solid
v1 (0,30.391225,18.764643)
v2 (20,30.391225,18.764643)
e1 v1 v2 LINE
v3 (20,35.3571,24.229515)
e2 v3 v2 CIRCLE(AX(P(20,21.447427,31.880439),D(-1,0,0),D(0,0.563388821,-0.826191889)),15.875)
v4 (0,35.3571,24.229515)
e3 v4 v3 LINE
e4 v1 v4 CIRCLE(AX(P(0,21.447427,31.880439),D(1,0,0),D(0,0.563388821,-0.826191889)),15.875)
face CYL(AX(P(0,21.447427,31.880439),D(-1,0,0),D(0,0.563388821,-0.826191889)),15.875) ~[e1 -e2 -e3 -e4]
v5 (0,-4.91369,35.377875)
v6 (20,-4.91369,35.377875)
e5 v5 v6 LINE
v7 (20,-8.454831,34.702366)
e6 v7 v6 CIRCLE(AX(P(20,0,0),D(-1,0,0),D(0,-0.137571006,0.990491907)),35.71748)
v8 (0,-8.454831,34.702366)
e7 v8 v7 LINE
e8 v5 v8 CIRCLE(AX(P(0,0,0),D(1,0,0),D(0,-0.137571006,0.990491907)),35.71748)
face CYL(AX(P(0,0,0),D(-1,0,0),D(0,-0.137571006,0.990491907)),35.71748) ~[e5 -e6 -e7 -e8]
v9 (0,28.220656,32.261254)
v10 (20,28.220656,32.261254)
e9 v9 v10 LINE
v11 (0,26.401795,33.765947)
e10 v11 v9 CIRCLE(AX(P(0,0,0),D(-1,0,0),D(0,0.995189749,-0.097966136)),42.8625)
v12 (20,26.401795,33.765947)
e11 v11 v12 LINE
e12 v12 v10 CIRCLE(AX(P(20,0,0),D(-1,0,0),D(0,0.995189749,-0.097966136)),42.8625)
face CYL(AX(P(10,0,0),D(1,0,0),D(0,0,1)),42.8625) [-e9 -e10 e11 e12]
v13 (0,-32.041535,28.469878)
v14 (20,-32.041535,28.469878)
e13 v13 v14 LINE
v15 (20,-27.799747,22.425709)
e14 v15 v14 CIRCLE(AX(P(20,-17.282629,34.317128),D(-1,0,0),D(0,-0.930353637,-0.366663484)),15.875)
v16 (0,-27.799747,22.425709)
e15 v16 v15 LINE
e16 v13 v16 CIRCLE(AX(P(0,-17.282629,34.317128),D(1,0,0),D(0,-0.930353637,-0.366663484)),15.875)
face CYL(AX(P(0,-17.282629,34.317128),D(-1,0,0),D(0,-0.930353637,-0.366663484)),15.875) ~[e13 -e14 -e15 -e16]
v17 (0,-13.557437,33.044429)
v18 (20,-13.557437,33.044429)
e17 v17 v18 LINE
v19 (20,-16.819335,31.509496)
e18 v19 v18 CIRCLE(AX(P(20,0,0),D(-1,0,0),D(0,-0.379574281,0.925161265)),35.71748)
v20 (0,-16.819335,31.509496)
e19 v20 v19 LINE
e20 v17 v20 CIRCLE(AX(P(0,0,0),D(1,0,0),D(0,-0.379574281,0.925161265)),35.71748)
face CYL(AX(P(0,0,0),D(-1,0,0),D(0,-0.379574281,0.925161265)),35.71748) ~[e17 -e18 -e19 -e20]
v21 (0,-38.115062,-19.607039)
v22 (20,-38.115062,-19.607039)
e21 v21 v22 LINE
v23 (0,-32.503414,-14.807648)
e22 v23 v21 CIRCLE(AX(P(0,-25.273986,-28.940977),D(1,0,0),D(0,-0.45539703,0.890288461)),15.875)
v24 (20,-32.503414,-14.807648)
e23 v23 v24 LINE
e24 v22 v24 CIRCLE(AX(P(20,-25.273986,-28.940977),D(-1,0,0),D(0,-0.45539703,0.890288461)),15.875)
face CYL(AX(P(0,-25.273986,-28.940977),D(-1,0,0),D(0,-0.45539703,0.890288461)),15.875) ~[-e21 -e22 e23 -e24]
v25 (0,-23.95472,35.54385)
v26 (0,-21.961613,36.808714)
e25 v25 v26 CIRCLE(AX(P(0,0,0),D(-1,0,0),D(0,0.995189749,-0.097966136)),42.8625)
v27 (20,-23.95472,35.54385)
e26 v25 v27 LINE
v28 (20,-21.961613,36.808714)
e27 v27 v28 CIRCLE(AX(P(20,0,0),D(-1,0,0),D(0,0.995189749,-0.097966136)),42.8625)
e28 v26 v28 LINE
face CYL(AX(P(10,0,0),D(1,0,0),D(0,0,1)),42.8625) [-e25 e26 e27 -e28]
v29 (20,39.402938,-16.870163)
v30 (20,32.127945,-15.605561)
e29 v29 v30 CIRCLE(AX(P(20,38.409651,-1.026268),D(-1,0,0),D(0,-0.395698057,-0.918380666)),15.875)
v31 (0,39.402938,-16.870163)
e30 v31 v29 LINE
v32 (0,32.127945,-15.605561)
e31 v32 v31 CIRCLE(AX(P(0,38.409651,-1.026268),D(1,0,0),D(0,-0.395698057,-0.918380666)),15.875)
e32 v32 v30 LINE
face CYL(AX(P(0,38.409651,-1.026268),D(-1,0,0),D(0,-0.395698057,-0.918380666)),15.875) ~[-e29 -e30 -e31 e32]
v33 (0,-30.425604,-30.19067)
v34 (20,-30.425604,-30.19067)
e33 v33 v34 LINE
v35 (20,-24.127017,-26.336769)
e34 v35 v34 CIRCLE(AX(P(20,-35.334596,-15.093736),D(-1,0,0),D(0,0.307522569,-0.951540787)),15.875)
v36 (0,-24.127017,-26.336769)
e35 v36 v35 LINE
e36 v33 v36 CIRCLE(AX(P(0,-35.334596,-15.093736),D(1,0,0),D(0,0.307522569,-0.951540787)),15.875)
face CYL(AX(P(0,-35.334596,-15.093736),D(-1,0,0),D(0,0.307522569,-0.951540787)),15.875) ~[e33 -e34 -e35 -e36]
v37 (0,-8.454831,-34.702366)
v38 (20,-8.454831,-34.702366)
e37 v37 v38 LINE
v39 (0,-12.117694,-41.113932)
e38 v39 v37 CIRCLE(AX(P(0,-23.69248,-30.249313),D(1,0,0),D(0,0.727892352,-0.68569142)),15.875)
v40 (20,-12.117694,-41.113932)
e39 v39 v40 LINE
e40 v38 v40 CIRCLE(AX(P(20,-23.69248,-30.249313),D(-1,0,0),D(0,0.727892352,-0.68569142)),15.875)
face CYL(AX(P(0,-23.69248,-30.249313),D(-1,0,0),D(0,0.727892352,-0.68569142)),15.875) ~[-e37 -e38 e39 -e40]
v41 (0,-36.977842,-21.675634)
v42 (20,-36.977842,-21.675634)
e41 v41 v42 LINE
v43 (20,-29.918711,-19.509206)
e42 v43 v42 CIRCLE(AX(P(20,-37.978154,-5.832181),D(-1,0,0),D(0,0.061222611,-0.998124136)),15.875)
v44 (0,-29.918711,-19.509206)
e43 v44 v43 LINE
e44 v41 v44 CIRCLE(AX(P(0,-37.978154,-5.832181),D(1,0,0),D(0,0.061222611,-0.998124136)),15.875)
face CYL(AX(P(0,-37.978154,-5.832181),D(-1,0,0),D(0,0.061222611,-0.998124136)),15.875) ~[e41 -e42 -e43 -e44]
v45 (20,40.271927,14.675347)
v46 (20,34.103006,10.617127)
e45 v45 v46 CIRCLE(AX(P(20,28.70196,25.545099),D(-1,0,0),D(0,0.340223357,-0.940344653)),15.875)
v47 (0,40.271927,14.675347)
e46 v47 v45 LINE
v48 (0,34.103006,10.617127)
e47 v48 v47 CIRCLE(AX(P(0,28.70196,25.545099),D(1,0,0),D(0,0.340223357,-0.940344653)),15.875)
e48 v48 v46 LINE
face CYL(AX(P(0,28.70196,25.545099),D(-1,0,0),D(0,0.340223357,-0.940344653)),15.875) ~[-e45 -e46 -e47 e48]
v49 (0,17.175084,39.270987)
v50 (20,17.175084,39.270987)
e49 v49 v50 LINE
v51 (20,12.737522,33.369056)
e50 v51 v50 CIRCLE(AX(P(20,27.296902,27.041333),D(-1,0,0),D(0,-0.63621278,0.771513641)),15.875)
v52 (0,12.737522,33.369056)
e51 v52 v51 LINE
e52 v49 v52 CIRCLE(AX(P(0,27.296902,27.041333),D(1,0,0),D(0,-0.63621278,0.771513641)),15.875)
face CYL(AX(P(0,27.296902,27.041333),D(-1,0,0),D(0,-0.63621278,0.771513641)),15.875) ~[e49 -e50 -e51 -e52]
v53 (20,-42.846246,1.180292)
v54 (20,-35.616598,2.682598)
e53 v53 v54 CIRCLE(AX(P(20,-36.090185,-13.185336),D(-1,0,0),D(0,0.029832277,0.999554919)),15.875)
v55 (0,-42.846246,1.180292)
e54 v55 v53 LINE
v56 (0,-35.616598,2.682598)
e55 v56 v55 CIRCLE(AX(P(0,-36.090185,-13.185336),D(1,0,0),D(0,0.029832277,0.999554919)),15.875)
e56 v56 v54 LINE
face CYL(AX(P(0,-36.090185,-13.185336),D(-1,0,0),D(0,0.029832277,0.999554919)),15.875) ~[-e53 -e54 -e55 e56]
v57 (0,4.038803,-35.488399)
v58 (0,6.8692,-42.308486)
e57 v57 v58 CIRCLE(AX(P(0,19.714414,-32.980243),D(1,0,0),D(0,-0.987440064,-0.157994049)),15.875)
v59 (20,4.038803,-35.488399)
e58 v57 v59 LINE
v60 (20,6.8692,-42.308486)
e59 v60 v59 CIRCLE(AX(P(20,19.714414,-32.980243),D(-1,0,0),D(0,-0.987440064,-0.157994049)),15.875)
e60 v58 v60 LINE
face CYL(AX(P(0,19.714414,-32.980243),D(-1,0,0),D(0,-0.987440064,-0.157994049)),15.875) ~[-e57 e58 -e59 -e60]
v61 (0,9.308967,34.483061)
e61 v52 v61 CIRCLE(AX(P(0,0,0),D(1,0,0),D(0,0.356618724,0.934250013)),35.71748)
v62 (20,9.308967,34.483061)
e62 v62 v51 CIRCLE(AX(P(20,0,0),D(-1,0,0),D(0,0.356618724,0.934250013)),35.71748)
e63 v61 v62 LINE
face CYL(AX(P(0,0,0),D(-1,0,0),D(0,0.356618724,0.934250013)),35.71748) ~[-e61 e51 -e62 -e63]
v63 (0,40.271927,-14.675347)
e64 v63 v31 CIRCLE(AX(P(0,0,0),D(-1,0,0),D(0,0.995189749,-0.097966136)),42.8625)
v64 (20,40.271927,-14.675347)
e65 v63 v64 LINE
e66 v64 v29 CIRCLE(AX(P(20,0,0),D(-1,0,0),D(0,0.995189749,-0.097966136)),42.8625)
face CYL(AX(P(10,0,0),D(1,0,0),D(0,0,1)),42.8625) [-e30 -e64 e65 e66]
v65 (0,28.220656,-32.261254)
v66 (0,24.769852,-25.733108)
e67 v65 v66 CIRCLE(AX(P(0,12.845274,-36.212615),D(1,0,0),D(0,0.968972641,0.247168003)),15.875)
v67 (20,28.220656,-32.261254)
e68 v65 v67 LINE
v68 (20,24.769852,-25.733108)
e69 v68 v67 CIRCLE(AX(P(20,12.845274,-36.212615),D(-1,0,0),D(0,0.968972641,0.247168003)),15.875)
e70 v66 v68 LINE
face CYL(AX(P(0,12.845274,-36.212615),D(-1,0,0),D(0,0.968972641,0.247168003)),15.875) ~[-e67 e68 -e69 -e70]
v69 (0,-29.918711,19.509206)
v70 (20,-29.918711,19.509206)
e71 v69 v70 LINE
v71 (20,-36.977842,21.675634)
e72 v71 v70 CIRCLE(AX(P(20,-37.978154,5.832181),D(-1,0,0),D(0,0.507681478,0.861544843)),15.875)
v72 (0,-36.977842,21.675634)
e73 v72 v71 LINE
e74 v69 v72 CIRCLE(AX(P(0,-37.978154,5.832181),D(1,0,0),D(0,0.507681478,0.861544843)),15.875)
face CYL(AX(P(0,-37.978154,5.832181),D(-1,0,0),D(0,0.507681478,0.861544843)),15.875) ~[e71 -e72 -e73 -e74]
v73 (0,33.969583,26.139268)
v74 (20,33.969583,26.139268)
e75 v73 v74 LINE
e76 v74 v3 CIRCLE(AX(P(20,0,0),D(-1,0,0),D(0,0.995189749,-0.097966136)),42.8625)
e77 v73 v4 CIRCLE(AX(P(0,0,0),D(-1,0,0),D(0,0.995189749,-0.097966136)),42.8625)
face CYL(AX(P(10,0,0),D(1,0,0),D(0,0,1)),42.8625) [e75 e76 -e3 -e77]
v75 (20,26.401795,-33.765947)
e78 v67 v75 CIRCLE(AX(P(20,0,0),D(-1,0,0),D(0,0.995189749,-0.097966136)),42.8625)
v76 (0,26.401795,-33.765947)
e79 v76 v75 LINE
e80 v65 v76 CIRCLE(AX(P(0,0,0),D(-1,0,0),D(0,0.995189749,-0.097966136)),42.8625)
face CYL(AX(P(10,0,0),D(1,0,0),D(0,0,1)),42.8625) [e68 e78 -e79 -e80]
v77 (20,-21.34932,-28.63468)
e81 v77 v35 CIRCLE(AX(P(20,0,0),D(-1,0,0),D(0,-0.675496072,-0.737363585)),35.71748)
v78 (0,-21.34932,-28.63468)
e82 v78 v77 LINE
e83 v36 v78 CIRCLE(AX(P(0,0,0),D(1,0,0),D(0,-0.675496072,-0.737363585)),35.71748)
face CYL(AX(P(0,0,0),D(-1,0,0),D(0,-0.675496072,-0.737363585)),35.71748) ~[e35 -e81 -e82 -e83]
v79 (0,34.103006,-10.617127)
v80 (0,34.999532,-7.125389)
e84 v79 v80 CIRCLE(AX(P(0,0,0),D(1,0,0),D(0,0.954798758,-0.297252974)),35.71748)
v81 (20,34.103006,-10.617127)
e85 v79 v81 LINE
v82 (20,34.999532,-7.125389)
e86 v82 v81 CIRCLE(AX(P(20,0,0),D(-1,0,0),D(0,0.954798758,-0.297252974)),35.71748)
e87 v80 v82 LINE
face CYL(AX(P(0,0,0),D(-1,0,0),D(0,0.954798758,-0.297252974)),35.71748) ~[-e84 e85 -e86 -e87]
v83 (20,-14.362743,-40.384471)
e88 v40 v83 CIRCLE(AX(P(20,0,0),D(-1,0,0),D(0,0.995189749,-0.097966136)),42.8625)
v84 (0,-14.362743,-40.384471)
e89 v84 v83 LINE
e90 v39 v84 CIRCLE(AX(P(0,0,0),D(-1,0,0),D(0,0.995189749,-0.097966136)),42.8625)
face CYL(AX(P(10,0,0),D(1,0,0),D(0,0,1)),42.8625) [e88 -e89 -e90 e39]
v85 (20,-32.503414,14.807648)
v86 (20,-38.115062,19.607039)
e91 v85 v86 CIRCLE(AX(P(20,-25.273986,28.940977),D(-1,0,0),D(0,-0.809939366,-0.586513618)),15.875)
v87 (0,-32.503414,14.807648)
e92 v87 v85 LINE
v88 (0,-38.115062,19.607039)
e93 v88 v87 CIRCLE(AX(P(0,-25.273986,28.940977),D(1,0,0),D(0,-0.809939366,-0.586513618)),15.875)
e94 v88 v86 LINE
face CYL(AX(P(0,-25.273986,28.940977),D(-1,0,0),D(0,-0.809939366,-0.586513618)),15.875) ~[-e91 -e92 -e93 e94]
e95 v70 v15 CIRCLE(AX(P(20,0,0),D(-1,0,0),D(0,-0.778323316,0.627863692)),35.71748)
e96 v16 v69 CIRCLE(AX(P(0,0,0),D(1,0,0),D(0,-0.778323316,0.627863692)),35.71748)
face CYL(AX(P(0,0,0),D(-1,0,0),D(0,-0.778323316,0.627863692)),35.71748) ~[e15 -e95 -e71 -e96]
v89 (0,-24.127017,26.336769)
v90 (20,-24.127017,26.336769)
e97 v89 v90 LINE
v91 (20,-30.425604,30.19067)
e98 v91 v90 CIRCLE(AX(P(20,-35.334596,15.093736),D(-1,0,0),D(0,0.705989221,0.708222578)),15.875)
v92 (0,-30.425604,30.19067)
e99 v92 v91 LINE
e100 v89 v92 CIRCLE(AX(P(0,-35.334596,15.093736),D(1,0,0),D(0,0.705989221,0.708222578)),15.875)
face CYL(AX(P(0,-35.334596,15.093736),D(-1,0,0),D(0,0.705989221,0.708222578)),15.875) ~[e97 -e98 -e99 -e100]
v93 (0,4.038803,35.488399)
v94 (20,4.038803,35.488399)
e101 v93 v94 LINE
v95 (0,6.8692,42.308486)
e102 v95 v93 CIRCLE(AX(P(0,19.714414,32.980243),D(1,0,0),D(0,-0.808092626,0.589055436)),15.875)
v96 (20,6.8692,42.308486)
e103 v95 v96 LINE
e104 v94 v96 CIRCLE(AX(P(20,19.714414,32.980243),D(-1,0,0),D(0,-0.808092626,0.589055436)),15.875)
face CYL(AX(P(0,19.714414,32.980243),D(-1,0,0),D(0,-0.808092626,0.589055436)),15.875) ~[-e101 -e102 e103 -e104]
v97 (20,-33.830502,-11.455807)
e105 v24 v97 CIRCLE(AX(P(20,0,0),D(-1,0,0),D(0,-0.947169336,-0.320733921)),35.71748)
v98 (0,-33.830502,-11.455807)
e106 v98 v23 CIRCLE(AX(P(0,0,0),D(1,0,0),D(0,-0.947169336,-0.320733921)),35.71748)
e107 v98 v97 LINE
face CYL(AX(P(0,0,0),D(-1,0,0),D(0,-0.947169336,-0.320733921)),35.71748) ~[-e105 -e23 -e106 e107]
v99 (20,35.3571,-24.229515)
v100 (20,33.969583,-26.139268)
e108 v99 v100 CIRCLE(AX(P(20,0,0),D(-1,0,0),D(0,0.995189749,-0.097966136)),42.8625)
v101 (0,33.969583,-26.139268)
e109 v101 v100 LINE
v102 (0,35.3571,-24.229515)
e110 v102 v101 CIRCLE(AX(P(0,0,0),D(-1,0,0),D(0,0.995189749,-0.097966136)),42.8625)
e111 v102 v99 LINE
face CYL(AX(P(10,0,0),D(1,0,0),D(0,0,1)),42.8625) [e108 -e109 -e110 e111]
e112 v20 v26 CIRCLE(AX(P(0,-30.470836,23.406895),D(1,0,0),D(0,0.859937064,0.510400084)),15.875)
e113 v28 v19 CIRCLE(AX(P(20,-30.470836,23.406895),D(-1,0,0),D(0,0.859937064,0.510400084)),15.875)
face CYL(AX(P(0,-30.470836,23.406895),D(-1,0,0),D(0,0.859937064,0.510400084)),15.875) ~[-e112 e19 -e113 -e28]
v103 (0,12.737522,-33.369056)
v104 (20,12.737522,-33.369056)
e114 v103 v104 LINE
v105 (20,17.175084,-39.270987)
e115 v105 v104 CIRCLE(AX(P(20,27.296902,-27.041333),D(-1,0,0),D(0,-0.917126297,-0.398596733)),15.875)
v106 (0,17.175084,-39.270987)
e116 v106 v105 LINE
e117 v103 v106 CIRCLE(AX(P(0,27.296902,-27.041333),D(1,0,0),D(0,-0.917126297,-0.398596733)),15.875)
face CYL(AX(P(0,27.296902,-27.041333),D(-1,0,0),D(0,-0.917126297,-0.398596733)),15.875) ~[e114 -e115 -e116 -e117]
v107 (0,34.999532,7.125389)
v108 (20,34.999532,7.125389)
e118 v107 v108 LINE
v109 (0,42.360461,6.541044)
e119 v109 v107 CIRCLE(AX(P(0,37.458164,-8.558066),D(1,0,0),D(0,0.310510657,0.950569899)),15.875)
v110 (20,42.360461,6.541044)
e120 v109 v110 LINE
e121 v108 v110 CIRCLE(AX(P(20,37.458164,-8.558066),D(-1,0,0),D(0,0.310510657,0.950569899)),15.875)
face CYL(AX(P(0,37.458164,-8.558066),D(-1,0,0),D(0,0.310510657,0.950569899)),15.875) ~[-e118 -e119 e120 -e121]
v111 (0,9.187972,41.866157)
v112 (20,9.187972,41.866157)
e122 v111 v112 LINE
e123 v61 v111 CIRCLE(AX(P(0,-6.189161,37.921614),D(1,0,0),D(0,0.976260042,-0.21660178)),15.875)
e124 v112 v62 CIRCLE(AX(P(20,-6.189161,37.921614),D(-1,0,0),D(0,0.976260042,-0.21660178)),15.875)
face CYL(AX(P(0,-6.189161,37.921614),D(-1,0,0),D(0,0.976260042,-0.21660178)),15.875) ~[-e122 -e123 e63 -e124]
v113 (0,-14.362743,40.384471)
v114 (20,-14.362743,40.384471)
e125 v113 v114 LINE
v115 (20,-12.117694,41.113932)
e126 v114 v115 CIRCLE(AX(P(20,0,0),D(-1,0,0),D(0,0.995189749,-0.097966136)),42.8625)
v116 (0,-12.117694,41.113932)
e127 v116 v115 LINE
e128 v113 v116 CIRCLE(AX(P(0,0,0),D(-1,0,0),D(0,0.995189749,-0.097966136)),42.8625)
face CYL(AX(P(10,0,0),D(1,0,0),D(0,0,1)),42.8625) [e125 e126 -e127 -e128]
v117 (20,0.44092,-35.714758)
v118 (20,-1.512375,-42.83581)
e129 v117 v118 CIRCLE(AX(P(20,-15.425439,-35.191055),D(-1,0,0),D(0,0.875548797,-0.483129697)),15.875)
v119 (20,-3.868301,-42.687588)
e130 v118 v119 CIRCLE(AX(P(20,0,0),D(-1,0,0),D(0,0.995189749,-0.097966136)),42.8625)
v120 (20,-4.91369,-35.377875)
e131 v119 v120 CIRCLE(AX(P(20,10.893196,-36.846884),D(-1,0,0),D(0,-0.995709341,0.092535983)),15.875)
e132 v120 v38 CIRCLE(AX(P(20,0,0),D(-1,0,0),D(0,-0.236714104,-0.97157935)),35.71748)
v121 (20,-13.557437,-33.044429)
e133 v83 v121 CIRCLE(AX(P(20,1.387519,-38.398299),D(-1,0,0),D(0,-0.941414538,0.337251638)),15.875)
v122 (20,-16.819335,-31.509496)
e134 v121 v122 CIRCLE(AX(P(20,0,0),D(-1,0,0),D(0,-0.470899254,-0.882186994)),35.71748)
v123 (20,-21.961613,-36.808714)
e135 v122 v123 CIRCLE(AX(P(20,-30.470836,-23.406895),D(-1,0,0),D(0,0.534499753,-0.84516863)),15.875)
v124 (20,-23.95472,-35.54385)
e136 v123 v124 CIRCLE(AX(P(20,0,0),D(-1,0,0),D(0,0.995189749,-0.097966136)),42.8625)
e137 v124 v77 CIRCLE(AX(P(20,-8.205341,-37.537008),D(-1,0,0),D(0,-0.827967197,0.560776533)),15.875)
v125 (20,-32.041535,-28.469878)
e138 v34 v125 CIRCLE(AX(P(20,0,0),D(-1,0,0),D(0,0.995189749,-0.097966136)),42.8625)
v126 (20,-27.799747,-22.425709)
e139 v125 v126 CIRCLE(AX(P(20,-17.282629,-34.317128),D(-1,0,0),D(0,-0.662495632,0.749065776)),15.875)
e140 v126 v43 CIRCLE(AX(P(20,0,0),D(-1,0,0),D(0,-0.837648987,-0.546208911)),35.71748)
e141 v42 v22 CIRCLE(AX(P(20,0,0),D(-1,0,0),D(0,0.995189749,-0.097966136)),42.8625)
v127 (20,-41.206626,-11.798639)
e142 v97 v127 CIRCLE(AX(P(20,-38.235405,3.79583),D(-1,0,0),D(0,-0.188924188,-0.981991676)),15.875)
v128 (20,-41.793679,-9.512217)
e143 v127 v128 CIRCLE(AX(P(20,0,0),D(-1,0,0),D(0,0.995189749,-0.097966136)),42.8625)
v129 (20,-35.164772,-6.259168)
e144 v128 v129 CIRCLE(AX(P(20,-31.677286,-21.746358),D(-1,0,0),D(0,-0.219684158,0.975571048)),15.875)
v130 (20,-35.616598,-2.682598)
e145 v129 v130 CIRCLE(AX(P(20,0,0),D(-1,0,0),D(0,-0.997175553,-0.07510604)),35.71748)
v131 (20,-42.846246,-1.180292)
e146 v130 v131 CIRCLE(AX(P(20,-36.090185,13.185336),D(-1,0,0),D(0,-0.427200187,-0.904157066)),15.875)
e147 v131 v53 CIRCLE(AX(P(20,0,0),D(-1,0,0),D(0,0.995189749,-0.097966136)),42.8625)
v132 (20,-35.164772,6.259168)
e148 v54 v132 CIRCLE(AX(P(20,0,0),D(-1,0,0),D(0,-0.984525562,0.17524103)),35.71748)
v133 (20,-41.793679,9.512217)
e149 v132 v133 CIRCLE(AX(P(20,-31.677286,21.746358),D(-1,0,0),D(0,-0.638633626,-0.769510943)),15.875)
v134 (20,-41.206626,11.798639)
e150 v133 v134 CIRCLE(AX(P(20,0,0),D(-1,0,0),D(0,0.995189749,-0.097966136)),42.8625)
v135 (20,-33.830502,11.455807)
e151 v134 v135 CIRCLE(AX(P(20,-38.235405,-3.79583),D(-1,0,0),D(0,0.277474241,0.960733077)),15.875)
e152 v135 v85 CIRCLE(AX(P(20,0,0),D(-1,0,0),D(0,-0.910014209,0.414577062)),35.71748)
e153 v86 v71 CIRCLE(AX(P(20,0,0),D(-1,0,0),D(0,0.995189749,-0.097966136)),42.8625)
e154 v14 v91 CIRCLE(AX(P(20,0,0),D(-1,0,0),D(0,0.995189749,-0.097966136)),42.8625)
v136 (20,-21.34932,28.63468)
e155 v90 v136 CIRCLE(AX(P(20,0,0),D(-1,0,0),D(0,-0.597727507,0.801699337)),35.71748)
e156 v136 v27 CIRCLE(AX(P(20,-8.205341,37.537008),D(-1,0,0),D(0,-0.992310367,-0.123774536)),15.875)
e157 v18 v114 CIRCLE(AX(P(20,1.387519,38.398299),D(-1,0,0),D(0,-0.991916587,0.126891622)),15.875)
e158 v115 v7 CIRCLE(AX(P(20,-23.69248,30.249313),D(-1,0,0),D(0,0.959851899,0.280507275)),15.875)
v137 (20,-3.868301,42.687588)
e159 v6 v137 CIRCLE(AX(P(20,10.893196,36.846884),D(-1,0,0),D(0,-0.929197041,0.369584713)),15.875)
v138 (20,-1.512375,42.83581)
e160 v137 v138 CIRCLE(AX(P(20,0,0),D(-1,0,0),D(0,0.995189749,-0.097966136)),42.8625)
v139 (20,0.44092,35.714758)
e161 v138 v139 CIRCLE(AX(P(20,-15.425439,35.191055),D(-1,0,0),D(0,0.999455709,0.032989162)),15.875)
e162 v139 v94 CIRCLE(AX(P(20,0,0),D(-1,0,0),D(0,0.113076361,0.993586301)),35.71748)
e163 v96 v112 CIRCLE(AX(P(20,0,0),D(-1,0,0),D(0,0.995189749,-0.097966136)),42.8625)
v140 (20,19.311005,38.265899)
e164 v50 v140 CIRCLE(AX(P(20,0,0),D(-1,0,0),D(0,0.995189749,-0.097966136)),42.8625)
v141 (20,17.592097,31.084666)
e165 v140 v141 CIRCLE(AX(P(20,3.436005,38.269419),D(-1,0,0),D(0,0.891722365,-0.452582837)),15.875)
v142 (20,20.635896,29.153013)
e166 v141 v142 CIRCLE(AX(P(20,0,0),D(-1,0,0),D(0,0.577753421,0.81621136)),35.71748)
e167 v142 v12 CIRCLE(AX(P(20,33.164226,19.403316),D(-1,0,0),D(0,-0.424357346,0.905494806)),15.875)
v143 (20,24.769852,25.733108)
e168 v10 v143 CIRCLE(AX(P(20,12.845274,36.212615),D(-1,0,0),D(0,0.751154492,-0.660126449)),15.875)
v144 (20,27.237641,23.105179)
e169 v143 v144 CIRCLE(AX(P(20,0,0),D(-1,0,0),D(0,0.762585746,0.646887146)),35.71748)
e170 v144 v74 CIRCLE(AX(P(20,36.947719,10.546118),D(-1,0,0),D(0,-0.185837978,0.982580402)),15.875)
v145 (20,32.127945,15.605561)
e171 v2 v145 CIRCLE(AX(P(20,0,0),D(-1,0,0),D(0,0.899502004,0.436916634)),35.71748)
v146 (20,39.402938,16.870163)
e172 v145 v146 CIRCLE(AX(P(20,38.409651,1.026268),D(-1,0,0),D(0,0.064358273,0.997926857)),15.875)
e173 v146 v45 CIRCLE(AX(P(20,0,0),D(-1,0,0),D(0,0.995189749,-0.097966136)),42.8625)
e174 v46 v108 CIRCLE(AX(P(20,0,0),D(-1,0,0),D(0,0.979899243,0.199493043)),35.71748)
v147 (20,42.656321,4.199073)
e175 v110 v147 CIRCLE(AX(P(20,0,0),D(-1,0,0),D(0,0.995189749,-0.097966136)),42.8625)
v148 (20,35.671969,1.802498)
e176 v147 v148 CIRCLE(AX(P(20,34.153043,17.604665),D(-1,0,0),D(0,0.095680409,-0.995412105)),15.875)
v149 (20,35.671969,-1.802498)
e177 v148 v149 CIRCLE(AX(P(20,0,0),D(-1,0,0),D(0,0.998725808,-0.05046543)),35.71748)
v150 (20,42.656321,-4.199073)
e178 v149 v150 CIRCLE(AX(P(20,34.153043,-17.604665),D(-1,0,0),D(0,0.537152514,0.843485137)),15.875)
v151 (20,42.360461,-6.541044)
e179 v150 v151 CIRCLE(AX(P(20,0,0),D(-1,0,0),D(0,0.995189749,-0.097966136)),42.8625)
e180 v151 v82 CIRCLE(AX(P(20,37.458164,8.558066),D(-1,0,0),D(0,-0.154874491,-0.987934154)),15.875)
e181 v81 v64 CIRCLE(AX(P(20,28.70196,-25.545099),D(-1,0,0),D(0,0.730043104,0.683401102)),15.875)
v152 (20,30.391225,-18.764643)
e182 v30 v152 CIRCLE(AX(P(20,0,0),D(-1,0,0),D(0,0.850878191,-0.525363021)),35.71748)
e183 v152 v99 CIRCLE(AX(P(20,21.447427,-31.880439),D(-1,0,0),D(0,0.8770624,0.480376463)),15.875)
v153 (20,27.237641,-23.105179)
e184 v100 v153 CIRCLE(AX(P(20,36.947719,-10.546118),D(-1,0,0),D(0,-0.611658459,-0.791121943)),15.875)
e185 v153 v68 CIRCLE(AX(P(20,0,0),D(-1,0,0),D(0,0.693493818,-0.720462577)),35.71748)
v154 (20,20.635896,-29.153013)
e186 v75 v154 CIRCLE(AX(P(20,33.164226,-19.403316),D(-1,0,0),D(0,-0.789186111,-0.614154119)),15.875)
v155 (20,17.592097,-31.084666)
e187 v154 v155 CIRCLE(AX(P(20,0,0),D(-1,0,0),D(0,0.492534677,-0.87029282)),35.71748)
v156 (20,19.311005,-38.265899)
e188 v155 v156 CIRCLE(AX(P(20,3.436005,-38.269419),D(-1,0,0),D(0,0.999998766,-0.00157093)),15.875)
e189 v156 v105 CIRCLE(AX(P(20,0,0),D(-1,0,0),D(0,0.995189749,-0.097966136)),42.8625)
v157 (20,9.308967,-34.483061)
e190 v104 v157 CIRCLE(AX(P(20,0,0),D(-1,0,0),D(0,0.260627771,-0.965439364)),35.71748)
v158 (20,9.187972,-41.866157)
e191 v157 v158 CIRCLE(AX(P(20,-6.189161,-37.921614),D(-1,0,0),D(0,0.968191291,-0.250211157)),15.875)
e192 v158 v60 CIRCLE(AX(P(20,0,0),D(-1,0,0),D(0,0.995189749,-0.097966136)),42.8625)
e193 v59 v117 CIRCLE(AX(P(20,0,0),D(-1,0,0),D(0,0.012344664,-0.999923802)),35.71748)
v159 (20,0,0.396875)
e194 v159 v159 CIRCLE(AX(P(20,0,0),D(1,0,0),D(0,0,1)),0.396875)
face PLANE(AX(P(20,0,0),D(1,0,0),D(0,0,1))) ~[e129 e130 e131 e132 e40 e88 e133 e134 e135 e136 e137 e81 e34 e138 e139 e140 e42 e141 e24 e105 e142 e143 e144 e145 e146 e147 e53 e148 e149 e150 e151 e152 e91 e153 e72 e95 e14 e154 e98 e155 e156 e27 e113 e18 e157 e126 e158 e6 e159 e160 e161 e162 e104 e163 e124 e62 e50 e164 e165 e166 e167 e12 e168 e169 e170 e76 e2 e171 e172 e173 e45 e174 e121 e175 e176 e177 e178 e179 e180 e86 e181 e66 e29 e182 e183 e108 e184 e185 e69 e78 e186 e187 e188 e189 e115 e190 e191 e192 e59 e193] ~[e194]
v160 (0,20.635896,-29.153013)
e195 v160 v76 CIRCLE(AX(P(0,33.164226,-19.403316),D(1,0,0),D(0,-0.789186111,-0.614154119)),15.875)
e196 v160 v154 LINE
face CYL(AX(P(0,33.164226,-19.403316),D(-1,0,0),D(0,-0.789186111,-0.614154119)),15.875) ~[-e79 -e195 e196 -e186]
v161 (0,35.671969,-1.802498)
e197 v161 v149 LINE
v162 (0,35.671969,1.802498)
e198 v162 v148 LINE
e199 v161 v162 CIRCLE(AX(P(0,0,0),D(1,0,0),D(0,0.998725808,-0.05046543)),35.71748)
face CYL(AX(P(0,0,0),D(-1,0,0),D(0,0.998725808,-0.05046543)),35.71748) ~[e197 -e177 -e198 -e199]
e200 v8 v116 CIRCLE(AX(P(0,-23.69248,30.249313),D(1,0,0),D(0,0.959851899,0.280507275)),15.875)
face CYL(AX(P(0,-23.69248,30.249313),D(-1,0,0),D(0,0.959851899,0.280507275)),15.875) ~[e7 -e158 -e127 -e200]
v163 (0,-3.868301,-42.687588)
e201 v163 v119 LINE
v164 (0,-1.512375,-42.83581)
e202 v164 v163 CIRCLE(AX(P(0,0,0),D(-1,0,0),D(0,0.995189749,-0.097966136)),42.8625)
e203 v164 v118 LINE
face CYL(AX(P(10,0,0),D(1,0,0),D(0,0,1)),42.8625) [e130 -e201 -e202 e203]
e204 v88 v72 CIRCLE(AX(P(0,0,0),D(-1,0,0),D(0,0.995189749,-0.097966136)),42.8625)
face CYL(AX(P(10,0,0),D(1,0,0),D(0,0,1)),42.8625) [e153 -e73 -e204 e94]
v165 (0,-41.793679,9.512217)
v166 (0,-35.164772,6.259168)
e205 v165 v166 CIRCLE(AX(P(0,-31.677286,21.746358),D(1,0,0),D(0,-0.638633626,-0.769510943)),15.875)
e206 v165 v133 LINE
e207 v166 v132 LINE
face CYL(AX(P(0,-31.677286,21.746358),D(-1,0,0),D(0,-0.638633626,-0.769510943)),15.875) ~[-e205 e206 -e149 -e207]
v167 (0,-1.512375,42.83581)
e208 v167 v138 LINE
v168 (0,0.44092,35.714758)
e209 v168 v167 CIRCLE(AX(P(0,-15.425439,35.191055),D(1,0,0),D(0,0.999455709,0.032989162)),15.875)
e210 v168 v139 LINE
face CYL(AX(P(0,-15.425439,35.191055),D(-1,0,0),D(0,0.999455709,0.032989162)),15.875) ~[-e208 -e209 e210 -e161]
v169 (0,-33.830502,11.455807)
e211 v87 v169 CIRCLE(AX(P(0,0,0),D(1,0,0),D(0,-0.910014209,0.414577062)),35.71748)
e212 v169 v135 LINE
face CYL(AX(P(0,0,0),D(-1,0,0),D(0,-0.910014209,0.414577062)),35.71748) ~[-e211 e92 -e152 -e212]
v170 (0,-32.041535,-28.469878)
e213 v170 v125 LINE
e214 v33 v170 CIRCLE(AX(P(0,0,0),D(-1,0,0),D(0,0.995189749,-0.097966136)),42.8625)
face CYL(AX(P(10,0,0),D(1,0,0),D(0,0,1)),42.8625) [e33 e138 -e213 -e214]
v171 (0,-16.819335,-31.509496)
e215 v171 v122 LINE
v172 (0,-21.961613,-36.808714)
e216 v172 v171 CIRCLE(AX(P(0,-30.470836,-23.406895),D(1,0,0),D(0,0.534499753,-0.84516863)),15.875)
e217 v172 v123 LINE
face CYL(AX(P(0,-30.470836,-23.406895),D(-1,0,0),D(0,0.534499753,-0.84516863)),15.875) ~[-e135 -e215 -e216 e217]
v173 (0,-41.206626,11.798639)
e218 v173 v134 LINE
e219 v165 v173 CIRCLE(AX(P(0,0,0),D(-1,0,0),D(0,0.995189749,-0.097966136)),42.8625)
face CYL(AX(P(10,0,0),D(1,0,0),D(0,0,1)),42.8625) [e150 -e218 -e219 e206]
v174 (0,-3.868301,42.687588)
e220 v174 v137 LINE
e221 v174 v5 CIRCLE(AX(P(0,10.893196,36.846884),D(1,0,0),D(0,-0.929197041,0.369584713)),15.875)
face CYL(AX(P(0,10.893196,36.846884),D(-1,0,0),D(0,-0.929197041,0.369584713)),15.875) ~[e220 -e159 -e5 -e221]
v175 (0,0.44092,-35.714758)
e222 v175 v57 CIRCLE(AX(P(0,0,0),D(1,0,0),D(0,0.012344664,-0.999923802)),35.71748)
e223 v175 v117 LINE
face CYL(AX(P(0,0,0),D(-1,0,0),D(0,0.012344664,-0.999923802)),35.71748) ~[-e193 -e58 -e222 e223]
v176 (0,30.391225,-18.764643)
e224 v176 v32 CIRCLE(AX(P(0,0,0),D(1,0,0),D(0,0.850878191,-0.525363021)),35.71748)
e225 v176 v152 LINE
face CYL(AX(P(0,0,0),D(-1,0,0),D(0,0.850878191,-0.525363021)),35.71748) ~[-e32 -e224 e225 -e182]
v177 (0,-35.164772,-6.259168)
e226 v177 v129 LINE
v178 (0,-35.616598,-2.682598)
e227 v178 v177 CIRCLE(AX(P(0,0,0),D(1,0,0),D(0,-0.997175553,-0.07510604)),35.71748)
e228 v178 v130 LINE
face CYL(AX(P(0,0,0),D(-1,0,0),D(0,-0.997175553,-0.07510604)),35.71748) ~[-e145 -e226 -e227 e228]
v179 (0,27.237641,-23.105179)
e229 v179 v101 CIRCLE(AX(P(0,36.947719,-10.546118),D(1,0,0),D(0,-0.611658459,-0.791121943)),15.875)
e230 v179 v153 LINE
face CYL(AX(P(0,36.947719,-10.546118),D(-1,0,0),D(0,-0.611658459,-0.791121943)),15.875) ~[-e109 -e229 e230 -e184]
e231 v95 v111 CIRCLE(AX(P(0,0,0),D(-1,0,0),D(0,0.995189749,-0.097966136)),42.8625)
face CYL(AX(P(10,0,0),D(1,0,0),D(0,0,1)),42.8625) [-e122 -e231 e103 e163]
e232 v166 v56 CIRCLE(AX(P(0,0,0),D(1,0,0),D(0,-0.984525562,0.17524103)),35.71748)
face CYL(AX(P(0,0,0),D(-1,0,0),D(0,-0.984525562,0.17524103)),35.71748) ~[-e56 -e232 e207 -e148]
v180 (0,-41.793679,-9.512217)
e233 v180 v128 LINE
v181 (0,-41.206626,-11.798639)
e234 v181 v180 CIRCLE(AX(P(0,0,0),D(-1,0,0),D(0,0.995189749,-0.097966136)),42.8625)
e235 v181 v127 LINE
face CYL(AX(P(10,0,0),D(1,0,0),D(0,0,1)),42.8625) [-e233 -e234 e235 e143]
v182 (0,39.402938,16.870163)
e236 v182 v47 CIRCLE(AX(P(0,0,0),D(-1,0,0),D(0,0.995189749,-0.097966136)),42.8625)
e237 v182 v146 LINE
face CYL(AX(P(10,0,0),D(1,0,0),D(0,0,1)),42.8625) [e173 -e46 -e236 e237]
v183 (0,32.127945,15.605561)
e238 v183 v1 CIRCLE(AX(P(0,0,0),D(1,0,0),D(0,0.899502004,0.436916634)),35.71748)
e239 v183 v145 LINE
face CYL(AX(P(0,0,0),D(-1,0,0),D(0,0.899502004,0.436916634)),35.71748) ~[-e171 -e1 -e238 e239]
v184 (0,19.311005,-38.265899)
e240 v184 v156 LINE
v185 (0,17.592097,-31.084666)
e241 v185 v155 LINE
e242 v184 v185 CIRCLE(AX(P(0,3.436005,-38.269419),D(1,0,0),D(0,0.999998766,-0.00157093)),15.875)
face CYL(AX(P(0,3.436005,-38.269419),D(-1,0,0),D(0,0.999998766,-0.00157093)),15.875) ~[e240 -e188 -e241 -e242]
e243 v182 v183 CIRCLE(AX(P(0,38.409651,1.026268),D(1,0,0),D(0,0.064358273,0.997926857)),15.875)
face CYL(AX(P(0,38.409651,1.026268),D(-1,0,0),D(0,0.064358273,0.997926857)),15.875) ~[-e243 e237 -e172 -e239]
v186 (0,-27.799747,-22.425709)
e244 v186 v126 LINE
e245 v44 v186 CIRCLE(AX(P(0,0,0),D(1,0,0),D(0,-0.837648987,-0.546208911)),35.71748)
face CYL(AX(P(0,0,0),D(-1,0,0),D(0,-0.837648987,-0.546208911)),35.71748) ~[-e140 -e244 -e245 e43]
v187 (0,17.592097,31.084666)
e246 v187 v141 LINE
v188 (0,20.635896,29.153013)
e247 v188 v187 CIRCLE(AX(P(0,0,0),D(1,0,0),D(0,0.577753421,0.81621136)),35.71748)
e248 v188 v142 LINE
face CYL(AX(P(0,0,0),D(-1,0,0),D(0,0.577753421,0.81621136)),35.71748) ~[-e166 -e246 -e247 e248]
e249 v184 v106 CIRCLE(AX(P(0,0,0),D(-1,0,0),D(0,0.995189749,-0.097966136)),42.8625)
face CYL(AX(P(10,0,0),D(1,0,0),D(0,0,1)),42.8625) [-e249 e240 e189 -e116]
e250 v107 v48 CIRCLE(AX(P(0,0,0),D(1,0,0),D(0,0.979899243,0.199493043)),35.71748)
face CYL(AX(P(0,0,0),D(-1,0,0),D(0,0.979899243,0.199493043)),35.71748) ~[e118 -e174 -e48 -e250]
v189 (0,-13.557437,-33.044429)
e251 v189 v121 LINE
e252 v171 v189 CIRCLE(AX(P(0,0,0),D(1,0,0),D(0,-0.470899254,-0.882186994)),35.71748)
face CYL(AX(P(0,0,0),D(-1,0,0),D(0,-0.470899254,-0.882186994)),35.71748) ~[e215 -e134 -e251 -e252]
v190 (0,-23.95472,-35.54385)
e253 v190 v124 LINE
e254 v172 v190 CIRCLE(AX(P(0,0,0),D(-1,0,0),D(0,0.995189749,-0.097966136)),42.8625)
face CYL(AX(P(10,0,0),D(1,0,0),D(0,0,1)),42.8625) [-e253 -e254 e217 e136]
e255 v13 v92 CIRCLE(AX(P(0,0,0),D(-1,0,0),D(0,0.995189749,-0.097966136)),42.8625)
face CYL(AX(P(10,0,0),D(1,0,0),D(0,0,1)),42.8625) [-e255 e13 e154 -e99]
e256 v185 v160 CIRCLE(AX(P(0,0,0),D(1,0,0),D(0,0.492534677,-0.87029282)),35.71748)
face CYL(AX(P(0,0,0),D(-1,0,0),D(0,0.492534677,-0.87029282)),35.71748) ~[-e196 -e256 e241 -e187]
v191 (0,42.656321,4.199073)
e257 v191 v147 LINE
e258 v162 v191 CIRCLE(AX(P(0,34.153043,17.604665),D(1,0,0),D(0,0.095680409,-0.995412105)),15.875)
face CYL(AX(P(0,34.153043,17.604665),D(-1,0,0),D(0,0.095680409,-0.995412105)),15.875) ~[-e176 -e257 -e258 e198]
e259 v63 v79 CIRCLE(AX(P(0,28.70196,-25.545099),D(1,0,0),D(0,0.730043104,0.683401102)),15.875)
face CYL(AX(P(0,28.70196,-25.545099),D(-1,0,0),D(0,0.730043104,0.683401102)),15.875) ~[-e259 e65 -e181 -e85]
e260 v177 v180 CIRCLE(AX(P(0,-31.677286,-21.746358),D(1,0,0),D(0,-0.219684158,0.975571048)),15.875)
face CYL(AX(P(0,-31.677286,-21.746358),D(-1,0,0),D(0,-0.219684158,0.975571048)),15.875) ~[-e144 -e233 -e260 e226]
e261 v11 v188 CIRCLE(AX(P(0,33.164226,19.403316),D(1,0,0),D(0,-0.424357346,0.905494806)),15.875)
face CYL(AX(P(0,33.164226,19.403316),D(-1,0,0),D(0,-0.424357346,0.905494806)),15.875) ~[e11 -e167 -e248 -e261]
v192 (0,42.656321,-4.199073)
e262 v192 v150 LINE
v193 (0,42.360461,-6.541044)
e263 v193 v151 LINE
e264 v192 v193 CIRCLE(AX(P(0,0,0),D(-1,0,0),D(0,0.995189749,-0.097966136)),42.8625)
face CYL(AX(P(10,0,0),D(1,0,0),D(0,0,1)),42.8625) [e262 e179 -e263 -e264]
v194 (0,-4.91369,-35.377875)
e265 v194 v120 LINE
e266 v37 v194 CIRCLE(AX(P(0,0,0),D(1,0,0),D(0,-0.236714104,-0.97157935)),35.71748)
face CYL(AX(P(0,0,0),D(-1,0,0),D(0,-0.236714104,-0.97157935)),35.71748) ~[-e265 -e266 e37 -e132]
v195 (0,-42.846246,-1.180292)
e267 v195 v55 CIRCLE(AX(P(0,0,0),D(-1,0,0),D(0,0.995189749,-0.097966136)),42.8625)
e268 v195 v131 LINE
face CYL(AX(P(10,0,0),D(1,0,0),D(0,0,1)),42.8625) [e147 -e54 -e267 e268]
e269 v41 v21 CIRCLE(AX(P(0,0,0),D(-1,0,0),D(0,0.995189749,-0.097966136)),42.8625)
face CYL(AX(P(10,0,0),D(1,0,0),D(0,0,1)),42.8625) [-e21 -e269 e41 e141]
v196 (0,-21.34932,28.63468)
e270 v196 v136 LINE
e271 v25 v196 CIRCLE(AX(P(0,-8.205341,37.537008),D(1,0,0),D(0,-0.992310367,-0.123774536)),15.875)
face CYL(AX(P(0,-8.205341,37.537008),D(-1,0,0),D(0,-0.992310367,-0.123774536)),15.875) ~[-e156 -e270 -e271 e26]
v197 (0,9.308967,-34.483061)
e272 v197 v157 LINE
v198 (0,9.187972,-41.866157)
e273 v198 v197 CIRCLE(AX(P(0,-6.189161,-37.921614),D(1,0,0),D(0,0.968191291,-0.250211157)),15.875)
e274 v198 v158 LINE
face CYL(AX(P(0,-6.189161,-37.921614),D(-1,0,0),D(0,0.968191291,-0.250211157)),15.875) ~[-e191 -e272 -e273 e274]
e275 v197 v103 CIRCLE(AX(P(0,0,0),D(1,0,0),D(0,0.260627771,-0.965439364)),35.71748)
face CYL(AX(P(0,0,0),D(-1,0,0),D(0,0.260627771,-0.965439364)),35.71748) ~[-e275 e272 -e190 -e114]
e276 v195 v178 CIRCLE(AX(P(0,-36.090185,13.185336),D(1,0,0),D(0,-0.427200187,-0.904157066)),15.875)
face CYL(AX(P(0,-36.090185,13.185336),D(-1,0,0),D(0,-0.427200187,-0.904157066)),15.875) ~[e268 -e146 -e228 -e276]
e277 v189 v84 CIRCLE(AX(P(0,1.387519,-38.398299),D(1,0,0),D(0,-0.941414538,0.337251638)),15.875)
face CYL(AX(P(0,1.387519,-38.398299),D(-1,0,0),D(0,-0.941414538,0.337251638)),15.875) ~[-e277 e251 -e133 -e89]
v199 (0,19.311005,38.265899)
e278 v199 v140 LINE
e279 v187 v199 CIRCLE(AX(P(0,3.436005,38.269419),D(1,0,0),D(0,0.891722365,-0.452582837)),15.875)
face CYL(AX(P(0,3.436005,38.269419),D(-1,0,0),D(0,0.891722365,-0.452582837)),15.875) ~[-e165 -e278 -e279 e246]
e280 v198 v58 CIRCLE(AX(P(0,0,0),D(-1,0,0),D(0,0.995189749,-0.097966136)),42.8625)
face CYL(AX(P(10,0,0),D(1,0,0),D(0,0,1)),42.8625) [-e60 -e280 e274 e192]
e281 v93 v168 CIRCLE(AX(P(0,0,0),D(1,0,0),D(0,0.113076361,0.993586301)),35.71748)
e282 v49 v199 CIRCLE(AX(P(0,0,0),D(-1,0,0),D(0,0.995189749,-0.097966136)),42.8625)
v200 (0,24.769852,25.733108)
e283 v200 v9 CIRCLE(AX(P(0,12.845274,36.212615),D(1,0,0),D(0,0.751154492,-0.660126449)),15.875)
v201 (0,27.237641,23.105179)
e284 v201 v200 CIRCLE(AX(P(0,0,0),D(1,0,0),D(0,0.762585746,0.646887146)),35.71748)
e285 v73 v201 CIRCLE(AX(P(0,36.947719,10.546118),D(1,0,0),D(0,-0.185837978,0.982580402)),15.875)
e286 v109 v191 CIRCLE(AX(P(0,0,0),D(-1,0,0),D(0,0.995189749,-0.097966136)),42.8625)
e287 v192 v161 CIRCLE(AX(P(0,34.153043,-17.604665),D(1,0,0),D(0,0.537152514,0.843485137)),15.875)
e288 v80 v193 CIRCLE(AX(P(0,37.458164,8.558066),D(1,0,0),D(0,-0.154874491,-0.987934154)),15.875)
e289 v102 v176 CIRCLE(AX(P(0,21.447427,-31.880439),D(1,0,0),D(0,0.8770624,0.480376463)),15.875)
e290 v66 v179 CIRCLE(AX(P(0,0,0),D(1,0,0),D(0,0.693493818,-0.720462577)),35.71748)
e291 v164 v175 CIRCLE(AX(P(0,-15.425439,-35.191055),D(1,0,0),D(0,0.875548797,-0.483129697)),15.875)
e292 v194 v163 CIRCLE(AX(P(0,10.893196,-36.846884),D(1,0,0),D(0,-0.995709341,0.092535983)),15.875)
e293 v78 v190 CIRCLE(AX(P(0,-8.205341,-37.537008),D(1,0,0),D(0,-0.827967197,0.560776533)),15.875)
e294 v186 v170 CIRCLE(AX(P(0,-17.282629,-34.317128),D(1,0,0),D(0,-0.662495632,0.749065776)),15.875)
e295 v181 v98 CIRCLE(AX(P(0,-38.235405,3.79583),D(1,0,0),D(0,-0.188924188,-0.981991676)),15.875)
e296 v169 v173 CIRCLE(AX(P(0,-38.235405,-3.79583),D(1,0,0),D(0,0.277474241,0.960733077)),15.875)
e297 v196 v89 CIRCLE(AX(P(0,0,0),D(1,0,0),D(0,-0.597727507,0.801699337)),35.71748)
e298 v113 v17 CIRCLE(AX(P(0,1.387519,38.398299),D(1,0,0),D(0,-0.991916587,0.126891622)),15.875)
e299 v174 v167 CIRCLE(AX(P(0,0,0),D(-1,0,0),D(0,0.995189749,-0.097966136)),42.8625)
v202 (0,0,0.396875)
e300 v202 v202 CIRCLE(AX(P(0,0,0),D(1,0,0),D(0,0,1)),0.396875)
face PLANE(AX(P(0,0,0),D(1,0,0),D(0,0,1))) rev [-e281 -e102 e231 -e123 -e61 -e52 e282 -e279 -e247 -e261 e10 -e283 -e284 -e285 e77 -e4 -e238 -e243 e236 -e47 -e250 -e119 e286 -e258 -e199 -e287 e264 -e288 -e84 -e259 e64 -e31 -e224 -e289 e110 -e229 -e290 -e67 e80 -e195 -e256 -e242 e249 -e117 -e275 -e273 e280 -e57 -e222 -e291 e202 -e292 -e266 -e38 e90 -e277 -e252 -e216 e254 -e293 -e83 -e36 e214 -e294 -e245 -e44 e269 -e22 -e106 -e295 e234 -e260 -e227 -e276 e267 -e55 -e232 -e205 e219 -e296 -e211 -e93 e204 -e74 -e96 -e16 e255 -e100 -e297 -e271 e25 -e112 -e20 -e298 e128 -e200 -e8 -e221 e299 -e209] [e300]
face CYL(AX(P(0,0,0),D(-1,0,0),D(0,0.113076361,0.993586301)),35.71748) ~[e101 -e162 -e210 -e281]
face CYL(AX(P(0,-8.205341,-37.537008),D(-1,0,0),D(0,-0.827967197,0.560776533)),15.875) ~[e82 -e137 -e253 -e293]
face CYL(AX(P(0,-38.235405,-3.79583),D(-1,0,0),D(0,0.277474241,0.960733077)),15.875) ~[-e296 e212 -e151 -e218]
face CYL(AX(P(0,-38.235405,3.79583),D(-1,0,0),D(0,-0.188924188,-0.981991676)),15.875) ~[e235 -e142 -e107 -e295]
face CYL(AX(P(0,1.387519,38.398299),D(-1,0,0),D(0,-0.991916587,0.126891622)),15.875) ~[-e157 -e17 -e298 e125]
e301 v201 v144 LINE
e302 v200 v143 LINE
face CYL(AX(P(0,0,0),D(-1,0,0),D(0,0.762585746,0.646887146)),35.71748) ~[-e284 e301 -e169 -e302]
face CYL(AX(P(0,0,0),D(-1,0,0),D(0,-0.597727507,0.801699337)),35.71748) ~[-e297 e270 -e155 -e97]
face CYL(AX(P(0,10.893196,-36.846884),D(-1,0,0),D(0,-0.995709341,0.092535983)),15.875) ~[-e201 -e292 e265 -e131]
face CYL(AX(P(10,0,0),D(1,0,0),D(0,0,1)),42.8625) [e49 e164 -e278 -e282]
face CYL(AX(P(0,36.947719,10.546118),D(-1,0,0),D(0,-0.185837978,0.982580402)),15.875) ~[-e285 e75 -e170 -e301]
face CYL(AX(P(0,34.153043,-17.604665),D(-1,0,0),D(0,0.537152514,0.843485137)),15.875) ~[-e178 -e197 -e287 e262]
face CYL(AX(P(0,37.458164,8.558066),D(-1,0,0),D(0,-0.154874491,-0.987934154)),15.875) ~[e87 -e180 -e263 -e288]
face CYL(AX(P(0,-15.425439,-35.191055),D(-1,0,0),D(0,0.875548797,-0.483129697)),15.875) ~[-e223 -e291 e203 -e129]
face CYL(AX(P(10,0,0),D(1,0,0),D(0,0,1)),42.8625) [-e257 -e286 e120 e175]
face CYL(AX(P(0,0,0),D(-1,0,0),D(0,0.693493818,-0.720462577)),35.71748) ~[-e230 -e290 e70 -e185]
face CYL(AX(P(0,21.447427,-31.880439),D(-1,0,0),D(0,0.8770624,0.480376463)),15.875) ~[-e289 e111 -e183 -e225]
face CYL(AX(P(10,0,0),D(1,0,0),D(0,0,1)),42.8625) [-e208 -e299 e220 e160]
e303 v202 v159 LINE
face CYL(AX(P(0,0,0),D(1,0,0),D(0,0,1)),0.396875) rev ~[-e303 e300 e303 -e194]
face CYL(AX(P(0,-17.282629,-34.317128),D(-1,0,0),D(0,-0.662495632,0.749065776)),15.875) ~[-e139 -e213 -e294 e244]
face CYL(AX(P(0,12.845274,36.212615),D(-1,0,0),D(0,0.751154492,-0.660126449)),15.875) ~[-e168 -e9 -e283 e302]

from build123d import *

# Parameters (mm, degrees)
BASPROSKE_W     = 20.000000005
BASPROSKE_H     = 42.8625
TOOTHCUT_DEPTH  = 64.830931473
TEETHCUTS_COUNT = 25
TEETHCUTS_ANGLE = 345.6
BORSKE_R        = 0.396875
BORE_DEPTH      = 50.8000508


with BuildPart() as part:
    # BasProSke → Base-Revolve (revolve)
    with BuildSketch(Plane(origin=(0, 0, 0), x_dir=(1, 0, 0), z_dir=(0, 1, 0)), mode=Mode.PRIVATE) as base_revolve_sk:
        with Locations((10.000000003, 21.43125)):
            Rectangle(BASPROSKE_W, BASPROSKE_H)
    revolve(base_revolve_sk.sketch.rotate(Axis((-10, 0, 0), (1, 0, 0)), 180), axis=Axis((-10, 0, 0), (1, 0, 0)))

    # TooCutSke → ToothCut (cut, through all)
    with BuildSketch(Plane(origin=(0, 0, 0), x_dir=(0, 0, -1), z_dir=(1, 0, 0))):
        with BuildLine():
            ThreePointArc((1.802497989, 35.671969087), (0, 35.71748), (-1.802497989, 35.671969087))
            ThreePointArc((-1.802497989, 35.671969087), (-2.593678058, 39.318881462), (-4.21433861, 42.680338758))
            ThreePointArc((-4.21433861, 42.680338758), (0, 42.8879), (4.21433861, 42.680338758))
            ThreePointArc((4.21433861, 42.680338758), (2.593678058, 39.318881462), (1.802497989, 35.671969087))
        make_face()
    toothcut = extrude(amount=TOOTHCUT_DEPTH, mode=Mode.SUBTRACT)

    # TeethCuts: ToothCut ×25 about axis
    teethcuts_axis = Axis((-10, 0, 0), (1, 0, 0))
    for i in range(1, TEETHCUTS_COUNT):
        add(toothcut.rotate(teethcuts_axis, i * TEETHCUTS_ANGLE / (TEETHCUTS_COUNT - 1)), mode=Mode.SUBTRACT)

    # BorSke → Bore (cut, symmetric)
    with BuildSketch(Plane(origin=(0, 0, 0), x_dir=(0, 0, -1), z_dir=(1, 0, 0))):
        with Locations(Location((0, 0, 0), (0, 0, 180))):
            Circle(BORSKE_R)
    extrude(amount=BORE_DEPTH, both=True, mode=Mode.SUBTRACT)


solid = part.part
